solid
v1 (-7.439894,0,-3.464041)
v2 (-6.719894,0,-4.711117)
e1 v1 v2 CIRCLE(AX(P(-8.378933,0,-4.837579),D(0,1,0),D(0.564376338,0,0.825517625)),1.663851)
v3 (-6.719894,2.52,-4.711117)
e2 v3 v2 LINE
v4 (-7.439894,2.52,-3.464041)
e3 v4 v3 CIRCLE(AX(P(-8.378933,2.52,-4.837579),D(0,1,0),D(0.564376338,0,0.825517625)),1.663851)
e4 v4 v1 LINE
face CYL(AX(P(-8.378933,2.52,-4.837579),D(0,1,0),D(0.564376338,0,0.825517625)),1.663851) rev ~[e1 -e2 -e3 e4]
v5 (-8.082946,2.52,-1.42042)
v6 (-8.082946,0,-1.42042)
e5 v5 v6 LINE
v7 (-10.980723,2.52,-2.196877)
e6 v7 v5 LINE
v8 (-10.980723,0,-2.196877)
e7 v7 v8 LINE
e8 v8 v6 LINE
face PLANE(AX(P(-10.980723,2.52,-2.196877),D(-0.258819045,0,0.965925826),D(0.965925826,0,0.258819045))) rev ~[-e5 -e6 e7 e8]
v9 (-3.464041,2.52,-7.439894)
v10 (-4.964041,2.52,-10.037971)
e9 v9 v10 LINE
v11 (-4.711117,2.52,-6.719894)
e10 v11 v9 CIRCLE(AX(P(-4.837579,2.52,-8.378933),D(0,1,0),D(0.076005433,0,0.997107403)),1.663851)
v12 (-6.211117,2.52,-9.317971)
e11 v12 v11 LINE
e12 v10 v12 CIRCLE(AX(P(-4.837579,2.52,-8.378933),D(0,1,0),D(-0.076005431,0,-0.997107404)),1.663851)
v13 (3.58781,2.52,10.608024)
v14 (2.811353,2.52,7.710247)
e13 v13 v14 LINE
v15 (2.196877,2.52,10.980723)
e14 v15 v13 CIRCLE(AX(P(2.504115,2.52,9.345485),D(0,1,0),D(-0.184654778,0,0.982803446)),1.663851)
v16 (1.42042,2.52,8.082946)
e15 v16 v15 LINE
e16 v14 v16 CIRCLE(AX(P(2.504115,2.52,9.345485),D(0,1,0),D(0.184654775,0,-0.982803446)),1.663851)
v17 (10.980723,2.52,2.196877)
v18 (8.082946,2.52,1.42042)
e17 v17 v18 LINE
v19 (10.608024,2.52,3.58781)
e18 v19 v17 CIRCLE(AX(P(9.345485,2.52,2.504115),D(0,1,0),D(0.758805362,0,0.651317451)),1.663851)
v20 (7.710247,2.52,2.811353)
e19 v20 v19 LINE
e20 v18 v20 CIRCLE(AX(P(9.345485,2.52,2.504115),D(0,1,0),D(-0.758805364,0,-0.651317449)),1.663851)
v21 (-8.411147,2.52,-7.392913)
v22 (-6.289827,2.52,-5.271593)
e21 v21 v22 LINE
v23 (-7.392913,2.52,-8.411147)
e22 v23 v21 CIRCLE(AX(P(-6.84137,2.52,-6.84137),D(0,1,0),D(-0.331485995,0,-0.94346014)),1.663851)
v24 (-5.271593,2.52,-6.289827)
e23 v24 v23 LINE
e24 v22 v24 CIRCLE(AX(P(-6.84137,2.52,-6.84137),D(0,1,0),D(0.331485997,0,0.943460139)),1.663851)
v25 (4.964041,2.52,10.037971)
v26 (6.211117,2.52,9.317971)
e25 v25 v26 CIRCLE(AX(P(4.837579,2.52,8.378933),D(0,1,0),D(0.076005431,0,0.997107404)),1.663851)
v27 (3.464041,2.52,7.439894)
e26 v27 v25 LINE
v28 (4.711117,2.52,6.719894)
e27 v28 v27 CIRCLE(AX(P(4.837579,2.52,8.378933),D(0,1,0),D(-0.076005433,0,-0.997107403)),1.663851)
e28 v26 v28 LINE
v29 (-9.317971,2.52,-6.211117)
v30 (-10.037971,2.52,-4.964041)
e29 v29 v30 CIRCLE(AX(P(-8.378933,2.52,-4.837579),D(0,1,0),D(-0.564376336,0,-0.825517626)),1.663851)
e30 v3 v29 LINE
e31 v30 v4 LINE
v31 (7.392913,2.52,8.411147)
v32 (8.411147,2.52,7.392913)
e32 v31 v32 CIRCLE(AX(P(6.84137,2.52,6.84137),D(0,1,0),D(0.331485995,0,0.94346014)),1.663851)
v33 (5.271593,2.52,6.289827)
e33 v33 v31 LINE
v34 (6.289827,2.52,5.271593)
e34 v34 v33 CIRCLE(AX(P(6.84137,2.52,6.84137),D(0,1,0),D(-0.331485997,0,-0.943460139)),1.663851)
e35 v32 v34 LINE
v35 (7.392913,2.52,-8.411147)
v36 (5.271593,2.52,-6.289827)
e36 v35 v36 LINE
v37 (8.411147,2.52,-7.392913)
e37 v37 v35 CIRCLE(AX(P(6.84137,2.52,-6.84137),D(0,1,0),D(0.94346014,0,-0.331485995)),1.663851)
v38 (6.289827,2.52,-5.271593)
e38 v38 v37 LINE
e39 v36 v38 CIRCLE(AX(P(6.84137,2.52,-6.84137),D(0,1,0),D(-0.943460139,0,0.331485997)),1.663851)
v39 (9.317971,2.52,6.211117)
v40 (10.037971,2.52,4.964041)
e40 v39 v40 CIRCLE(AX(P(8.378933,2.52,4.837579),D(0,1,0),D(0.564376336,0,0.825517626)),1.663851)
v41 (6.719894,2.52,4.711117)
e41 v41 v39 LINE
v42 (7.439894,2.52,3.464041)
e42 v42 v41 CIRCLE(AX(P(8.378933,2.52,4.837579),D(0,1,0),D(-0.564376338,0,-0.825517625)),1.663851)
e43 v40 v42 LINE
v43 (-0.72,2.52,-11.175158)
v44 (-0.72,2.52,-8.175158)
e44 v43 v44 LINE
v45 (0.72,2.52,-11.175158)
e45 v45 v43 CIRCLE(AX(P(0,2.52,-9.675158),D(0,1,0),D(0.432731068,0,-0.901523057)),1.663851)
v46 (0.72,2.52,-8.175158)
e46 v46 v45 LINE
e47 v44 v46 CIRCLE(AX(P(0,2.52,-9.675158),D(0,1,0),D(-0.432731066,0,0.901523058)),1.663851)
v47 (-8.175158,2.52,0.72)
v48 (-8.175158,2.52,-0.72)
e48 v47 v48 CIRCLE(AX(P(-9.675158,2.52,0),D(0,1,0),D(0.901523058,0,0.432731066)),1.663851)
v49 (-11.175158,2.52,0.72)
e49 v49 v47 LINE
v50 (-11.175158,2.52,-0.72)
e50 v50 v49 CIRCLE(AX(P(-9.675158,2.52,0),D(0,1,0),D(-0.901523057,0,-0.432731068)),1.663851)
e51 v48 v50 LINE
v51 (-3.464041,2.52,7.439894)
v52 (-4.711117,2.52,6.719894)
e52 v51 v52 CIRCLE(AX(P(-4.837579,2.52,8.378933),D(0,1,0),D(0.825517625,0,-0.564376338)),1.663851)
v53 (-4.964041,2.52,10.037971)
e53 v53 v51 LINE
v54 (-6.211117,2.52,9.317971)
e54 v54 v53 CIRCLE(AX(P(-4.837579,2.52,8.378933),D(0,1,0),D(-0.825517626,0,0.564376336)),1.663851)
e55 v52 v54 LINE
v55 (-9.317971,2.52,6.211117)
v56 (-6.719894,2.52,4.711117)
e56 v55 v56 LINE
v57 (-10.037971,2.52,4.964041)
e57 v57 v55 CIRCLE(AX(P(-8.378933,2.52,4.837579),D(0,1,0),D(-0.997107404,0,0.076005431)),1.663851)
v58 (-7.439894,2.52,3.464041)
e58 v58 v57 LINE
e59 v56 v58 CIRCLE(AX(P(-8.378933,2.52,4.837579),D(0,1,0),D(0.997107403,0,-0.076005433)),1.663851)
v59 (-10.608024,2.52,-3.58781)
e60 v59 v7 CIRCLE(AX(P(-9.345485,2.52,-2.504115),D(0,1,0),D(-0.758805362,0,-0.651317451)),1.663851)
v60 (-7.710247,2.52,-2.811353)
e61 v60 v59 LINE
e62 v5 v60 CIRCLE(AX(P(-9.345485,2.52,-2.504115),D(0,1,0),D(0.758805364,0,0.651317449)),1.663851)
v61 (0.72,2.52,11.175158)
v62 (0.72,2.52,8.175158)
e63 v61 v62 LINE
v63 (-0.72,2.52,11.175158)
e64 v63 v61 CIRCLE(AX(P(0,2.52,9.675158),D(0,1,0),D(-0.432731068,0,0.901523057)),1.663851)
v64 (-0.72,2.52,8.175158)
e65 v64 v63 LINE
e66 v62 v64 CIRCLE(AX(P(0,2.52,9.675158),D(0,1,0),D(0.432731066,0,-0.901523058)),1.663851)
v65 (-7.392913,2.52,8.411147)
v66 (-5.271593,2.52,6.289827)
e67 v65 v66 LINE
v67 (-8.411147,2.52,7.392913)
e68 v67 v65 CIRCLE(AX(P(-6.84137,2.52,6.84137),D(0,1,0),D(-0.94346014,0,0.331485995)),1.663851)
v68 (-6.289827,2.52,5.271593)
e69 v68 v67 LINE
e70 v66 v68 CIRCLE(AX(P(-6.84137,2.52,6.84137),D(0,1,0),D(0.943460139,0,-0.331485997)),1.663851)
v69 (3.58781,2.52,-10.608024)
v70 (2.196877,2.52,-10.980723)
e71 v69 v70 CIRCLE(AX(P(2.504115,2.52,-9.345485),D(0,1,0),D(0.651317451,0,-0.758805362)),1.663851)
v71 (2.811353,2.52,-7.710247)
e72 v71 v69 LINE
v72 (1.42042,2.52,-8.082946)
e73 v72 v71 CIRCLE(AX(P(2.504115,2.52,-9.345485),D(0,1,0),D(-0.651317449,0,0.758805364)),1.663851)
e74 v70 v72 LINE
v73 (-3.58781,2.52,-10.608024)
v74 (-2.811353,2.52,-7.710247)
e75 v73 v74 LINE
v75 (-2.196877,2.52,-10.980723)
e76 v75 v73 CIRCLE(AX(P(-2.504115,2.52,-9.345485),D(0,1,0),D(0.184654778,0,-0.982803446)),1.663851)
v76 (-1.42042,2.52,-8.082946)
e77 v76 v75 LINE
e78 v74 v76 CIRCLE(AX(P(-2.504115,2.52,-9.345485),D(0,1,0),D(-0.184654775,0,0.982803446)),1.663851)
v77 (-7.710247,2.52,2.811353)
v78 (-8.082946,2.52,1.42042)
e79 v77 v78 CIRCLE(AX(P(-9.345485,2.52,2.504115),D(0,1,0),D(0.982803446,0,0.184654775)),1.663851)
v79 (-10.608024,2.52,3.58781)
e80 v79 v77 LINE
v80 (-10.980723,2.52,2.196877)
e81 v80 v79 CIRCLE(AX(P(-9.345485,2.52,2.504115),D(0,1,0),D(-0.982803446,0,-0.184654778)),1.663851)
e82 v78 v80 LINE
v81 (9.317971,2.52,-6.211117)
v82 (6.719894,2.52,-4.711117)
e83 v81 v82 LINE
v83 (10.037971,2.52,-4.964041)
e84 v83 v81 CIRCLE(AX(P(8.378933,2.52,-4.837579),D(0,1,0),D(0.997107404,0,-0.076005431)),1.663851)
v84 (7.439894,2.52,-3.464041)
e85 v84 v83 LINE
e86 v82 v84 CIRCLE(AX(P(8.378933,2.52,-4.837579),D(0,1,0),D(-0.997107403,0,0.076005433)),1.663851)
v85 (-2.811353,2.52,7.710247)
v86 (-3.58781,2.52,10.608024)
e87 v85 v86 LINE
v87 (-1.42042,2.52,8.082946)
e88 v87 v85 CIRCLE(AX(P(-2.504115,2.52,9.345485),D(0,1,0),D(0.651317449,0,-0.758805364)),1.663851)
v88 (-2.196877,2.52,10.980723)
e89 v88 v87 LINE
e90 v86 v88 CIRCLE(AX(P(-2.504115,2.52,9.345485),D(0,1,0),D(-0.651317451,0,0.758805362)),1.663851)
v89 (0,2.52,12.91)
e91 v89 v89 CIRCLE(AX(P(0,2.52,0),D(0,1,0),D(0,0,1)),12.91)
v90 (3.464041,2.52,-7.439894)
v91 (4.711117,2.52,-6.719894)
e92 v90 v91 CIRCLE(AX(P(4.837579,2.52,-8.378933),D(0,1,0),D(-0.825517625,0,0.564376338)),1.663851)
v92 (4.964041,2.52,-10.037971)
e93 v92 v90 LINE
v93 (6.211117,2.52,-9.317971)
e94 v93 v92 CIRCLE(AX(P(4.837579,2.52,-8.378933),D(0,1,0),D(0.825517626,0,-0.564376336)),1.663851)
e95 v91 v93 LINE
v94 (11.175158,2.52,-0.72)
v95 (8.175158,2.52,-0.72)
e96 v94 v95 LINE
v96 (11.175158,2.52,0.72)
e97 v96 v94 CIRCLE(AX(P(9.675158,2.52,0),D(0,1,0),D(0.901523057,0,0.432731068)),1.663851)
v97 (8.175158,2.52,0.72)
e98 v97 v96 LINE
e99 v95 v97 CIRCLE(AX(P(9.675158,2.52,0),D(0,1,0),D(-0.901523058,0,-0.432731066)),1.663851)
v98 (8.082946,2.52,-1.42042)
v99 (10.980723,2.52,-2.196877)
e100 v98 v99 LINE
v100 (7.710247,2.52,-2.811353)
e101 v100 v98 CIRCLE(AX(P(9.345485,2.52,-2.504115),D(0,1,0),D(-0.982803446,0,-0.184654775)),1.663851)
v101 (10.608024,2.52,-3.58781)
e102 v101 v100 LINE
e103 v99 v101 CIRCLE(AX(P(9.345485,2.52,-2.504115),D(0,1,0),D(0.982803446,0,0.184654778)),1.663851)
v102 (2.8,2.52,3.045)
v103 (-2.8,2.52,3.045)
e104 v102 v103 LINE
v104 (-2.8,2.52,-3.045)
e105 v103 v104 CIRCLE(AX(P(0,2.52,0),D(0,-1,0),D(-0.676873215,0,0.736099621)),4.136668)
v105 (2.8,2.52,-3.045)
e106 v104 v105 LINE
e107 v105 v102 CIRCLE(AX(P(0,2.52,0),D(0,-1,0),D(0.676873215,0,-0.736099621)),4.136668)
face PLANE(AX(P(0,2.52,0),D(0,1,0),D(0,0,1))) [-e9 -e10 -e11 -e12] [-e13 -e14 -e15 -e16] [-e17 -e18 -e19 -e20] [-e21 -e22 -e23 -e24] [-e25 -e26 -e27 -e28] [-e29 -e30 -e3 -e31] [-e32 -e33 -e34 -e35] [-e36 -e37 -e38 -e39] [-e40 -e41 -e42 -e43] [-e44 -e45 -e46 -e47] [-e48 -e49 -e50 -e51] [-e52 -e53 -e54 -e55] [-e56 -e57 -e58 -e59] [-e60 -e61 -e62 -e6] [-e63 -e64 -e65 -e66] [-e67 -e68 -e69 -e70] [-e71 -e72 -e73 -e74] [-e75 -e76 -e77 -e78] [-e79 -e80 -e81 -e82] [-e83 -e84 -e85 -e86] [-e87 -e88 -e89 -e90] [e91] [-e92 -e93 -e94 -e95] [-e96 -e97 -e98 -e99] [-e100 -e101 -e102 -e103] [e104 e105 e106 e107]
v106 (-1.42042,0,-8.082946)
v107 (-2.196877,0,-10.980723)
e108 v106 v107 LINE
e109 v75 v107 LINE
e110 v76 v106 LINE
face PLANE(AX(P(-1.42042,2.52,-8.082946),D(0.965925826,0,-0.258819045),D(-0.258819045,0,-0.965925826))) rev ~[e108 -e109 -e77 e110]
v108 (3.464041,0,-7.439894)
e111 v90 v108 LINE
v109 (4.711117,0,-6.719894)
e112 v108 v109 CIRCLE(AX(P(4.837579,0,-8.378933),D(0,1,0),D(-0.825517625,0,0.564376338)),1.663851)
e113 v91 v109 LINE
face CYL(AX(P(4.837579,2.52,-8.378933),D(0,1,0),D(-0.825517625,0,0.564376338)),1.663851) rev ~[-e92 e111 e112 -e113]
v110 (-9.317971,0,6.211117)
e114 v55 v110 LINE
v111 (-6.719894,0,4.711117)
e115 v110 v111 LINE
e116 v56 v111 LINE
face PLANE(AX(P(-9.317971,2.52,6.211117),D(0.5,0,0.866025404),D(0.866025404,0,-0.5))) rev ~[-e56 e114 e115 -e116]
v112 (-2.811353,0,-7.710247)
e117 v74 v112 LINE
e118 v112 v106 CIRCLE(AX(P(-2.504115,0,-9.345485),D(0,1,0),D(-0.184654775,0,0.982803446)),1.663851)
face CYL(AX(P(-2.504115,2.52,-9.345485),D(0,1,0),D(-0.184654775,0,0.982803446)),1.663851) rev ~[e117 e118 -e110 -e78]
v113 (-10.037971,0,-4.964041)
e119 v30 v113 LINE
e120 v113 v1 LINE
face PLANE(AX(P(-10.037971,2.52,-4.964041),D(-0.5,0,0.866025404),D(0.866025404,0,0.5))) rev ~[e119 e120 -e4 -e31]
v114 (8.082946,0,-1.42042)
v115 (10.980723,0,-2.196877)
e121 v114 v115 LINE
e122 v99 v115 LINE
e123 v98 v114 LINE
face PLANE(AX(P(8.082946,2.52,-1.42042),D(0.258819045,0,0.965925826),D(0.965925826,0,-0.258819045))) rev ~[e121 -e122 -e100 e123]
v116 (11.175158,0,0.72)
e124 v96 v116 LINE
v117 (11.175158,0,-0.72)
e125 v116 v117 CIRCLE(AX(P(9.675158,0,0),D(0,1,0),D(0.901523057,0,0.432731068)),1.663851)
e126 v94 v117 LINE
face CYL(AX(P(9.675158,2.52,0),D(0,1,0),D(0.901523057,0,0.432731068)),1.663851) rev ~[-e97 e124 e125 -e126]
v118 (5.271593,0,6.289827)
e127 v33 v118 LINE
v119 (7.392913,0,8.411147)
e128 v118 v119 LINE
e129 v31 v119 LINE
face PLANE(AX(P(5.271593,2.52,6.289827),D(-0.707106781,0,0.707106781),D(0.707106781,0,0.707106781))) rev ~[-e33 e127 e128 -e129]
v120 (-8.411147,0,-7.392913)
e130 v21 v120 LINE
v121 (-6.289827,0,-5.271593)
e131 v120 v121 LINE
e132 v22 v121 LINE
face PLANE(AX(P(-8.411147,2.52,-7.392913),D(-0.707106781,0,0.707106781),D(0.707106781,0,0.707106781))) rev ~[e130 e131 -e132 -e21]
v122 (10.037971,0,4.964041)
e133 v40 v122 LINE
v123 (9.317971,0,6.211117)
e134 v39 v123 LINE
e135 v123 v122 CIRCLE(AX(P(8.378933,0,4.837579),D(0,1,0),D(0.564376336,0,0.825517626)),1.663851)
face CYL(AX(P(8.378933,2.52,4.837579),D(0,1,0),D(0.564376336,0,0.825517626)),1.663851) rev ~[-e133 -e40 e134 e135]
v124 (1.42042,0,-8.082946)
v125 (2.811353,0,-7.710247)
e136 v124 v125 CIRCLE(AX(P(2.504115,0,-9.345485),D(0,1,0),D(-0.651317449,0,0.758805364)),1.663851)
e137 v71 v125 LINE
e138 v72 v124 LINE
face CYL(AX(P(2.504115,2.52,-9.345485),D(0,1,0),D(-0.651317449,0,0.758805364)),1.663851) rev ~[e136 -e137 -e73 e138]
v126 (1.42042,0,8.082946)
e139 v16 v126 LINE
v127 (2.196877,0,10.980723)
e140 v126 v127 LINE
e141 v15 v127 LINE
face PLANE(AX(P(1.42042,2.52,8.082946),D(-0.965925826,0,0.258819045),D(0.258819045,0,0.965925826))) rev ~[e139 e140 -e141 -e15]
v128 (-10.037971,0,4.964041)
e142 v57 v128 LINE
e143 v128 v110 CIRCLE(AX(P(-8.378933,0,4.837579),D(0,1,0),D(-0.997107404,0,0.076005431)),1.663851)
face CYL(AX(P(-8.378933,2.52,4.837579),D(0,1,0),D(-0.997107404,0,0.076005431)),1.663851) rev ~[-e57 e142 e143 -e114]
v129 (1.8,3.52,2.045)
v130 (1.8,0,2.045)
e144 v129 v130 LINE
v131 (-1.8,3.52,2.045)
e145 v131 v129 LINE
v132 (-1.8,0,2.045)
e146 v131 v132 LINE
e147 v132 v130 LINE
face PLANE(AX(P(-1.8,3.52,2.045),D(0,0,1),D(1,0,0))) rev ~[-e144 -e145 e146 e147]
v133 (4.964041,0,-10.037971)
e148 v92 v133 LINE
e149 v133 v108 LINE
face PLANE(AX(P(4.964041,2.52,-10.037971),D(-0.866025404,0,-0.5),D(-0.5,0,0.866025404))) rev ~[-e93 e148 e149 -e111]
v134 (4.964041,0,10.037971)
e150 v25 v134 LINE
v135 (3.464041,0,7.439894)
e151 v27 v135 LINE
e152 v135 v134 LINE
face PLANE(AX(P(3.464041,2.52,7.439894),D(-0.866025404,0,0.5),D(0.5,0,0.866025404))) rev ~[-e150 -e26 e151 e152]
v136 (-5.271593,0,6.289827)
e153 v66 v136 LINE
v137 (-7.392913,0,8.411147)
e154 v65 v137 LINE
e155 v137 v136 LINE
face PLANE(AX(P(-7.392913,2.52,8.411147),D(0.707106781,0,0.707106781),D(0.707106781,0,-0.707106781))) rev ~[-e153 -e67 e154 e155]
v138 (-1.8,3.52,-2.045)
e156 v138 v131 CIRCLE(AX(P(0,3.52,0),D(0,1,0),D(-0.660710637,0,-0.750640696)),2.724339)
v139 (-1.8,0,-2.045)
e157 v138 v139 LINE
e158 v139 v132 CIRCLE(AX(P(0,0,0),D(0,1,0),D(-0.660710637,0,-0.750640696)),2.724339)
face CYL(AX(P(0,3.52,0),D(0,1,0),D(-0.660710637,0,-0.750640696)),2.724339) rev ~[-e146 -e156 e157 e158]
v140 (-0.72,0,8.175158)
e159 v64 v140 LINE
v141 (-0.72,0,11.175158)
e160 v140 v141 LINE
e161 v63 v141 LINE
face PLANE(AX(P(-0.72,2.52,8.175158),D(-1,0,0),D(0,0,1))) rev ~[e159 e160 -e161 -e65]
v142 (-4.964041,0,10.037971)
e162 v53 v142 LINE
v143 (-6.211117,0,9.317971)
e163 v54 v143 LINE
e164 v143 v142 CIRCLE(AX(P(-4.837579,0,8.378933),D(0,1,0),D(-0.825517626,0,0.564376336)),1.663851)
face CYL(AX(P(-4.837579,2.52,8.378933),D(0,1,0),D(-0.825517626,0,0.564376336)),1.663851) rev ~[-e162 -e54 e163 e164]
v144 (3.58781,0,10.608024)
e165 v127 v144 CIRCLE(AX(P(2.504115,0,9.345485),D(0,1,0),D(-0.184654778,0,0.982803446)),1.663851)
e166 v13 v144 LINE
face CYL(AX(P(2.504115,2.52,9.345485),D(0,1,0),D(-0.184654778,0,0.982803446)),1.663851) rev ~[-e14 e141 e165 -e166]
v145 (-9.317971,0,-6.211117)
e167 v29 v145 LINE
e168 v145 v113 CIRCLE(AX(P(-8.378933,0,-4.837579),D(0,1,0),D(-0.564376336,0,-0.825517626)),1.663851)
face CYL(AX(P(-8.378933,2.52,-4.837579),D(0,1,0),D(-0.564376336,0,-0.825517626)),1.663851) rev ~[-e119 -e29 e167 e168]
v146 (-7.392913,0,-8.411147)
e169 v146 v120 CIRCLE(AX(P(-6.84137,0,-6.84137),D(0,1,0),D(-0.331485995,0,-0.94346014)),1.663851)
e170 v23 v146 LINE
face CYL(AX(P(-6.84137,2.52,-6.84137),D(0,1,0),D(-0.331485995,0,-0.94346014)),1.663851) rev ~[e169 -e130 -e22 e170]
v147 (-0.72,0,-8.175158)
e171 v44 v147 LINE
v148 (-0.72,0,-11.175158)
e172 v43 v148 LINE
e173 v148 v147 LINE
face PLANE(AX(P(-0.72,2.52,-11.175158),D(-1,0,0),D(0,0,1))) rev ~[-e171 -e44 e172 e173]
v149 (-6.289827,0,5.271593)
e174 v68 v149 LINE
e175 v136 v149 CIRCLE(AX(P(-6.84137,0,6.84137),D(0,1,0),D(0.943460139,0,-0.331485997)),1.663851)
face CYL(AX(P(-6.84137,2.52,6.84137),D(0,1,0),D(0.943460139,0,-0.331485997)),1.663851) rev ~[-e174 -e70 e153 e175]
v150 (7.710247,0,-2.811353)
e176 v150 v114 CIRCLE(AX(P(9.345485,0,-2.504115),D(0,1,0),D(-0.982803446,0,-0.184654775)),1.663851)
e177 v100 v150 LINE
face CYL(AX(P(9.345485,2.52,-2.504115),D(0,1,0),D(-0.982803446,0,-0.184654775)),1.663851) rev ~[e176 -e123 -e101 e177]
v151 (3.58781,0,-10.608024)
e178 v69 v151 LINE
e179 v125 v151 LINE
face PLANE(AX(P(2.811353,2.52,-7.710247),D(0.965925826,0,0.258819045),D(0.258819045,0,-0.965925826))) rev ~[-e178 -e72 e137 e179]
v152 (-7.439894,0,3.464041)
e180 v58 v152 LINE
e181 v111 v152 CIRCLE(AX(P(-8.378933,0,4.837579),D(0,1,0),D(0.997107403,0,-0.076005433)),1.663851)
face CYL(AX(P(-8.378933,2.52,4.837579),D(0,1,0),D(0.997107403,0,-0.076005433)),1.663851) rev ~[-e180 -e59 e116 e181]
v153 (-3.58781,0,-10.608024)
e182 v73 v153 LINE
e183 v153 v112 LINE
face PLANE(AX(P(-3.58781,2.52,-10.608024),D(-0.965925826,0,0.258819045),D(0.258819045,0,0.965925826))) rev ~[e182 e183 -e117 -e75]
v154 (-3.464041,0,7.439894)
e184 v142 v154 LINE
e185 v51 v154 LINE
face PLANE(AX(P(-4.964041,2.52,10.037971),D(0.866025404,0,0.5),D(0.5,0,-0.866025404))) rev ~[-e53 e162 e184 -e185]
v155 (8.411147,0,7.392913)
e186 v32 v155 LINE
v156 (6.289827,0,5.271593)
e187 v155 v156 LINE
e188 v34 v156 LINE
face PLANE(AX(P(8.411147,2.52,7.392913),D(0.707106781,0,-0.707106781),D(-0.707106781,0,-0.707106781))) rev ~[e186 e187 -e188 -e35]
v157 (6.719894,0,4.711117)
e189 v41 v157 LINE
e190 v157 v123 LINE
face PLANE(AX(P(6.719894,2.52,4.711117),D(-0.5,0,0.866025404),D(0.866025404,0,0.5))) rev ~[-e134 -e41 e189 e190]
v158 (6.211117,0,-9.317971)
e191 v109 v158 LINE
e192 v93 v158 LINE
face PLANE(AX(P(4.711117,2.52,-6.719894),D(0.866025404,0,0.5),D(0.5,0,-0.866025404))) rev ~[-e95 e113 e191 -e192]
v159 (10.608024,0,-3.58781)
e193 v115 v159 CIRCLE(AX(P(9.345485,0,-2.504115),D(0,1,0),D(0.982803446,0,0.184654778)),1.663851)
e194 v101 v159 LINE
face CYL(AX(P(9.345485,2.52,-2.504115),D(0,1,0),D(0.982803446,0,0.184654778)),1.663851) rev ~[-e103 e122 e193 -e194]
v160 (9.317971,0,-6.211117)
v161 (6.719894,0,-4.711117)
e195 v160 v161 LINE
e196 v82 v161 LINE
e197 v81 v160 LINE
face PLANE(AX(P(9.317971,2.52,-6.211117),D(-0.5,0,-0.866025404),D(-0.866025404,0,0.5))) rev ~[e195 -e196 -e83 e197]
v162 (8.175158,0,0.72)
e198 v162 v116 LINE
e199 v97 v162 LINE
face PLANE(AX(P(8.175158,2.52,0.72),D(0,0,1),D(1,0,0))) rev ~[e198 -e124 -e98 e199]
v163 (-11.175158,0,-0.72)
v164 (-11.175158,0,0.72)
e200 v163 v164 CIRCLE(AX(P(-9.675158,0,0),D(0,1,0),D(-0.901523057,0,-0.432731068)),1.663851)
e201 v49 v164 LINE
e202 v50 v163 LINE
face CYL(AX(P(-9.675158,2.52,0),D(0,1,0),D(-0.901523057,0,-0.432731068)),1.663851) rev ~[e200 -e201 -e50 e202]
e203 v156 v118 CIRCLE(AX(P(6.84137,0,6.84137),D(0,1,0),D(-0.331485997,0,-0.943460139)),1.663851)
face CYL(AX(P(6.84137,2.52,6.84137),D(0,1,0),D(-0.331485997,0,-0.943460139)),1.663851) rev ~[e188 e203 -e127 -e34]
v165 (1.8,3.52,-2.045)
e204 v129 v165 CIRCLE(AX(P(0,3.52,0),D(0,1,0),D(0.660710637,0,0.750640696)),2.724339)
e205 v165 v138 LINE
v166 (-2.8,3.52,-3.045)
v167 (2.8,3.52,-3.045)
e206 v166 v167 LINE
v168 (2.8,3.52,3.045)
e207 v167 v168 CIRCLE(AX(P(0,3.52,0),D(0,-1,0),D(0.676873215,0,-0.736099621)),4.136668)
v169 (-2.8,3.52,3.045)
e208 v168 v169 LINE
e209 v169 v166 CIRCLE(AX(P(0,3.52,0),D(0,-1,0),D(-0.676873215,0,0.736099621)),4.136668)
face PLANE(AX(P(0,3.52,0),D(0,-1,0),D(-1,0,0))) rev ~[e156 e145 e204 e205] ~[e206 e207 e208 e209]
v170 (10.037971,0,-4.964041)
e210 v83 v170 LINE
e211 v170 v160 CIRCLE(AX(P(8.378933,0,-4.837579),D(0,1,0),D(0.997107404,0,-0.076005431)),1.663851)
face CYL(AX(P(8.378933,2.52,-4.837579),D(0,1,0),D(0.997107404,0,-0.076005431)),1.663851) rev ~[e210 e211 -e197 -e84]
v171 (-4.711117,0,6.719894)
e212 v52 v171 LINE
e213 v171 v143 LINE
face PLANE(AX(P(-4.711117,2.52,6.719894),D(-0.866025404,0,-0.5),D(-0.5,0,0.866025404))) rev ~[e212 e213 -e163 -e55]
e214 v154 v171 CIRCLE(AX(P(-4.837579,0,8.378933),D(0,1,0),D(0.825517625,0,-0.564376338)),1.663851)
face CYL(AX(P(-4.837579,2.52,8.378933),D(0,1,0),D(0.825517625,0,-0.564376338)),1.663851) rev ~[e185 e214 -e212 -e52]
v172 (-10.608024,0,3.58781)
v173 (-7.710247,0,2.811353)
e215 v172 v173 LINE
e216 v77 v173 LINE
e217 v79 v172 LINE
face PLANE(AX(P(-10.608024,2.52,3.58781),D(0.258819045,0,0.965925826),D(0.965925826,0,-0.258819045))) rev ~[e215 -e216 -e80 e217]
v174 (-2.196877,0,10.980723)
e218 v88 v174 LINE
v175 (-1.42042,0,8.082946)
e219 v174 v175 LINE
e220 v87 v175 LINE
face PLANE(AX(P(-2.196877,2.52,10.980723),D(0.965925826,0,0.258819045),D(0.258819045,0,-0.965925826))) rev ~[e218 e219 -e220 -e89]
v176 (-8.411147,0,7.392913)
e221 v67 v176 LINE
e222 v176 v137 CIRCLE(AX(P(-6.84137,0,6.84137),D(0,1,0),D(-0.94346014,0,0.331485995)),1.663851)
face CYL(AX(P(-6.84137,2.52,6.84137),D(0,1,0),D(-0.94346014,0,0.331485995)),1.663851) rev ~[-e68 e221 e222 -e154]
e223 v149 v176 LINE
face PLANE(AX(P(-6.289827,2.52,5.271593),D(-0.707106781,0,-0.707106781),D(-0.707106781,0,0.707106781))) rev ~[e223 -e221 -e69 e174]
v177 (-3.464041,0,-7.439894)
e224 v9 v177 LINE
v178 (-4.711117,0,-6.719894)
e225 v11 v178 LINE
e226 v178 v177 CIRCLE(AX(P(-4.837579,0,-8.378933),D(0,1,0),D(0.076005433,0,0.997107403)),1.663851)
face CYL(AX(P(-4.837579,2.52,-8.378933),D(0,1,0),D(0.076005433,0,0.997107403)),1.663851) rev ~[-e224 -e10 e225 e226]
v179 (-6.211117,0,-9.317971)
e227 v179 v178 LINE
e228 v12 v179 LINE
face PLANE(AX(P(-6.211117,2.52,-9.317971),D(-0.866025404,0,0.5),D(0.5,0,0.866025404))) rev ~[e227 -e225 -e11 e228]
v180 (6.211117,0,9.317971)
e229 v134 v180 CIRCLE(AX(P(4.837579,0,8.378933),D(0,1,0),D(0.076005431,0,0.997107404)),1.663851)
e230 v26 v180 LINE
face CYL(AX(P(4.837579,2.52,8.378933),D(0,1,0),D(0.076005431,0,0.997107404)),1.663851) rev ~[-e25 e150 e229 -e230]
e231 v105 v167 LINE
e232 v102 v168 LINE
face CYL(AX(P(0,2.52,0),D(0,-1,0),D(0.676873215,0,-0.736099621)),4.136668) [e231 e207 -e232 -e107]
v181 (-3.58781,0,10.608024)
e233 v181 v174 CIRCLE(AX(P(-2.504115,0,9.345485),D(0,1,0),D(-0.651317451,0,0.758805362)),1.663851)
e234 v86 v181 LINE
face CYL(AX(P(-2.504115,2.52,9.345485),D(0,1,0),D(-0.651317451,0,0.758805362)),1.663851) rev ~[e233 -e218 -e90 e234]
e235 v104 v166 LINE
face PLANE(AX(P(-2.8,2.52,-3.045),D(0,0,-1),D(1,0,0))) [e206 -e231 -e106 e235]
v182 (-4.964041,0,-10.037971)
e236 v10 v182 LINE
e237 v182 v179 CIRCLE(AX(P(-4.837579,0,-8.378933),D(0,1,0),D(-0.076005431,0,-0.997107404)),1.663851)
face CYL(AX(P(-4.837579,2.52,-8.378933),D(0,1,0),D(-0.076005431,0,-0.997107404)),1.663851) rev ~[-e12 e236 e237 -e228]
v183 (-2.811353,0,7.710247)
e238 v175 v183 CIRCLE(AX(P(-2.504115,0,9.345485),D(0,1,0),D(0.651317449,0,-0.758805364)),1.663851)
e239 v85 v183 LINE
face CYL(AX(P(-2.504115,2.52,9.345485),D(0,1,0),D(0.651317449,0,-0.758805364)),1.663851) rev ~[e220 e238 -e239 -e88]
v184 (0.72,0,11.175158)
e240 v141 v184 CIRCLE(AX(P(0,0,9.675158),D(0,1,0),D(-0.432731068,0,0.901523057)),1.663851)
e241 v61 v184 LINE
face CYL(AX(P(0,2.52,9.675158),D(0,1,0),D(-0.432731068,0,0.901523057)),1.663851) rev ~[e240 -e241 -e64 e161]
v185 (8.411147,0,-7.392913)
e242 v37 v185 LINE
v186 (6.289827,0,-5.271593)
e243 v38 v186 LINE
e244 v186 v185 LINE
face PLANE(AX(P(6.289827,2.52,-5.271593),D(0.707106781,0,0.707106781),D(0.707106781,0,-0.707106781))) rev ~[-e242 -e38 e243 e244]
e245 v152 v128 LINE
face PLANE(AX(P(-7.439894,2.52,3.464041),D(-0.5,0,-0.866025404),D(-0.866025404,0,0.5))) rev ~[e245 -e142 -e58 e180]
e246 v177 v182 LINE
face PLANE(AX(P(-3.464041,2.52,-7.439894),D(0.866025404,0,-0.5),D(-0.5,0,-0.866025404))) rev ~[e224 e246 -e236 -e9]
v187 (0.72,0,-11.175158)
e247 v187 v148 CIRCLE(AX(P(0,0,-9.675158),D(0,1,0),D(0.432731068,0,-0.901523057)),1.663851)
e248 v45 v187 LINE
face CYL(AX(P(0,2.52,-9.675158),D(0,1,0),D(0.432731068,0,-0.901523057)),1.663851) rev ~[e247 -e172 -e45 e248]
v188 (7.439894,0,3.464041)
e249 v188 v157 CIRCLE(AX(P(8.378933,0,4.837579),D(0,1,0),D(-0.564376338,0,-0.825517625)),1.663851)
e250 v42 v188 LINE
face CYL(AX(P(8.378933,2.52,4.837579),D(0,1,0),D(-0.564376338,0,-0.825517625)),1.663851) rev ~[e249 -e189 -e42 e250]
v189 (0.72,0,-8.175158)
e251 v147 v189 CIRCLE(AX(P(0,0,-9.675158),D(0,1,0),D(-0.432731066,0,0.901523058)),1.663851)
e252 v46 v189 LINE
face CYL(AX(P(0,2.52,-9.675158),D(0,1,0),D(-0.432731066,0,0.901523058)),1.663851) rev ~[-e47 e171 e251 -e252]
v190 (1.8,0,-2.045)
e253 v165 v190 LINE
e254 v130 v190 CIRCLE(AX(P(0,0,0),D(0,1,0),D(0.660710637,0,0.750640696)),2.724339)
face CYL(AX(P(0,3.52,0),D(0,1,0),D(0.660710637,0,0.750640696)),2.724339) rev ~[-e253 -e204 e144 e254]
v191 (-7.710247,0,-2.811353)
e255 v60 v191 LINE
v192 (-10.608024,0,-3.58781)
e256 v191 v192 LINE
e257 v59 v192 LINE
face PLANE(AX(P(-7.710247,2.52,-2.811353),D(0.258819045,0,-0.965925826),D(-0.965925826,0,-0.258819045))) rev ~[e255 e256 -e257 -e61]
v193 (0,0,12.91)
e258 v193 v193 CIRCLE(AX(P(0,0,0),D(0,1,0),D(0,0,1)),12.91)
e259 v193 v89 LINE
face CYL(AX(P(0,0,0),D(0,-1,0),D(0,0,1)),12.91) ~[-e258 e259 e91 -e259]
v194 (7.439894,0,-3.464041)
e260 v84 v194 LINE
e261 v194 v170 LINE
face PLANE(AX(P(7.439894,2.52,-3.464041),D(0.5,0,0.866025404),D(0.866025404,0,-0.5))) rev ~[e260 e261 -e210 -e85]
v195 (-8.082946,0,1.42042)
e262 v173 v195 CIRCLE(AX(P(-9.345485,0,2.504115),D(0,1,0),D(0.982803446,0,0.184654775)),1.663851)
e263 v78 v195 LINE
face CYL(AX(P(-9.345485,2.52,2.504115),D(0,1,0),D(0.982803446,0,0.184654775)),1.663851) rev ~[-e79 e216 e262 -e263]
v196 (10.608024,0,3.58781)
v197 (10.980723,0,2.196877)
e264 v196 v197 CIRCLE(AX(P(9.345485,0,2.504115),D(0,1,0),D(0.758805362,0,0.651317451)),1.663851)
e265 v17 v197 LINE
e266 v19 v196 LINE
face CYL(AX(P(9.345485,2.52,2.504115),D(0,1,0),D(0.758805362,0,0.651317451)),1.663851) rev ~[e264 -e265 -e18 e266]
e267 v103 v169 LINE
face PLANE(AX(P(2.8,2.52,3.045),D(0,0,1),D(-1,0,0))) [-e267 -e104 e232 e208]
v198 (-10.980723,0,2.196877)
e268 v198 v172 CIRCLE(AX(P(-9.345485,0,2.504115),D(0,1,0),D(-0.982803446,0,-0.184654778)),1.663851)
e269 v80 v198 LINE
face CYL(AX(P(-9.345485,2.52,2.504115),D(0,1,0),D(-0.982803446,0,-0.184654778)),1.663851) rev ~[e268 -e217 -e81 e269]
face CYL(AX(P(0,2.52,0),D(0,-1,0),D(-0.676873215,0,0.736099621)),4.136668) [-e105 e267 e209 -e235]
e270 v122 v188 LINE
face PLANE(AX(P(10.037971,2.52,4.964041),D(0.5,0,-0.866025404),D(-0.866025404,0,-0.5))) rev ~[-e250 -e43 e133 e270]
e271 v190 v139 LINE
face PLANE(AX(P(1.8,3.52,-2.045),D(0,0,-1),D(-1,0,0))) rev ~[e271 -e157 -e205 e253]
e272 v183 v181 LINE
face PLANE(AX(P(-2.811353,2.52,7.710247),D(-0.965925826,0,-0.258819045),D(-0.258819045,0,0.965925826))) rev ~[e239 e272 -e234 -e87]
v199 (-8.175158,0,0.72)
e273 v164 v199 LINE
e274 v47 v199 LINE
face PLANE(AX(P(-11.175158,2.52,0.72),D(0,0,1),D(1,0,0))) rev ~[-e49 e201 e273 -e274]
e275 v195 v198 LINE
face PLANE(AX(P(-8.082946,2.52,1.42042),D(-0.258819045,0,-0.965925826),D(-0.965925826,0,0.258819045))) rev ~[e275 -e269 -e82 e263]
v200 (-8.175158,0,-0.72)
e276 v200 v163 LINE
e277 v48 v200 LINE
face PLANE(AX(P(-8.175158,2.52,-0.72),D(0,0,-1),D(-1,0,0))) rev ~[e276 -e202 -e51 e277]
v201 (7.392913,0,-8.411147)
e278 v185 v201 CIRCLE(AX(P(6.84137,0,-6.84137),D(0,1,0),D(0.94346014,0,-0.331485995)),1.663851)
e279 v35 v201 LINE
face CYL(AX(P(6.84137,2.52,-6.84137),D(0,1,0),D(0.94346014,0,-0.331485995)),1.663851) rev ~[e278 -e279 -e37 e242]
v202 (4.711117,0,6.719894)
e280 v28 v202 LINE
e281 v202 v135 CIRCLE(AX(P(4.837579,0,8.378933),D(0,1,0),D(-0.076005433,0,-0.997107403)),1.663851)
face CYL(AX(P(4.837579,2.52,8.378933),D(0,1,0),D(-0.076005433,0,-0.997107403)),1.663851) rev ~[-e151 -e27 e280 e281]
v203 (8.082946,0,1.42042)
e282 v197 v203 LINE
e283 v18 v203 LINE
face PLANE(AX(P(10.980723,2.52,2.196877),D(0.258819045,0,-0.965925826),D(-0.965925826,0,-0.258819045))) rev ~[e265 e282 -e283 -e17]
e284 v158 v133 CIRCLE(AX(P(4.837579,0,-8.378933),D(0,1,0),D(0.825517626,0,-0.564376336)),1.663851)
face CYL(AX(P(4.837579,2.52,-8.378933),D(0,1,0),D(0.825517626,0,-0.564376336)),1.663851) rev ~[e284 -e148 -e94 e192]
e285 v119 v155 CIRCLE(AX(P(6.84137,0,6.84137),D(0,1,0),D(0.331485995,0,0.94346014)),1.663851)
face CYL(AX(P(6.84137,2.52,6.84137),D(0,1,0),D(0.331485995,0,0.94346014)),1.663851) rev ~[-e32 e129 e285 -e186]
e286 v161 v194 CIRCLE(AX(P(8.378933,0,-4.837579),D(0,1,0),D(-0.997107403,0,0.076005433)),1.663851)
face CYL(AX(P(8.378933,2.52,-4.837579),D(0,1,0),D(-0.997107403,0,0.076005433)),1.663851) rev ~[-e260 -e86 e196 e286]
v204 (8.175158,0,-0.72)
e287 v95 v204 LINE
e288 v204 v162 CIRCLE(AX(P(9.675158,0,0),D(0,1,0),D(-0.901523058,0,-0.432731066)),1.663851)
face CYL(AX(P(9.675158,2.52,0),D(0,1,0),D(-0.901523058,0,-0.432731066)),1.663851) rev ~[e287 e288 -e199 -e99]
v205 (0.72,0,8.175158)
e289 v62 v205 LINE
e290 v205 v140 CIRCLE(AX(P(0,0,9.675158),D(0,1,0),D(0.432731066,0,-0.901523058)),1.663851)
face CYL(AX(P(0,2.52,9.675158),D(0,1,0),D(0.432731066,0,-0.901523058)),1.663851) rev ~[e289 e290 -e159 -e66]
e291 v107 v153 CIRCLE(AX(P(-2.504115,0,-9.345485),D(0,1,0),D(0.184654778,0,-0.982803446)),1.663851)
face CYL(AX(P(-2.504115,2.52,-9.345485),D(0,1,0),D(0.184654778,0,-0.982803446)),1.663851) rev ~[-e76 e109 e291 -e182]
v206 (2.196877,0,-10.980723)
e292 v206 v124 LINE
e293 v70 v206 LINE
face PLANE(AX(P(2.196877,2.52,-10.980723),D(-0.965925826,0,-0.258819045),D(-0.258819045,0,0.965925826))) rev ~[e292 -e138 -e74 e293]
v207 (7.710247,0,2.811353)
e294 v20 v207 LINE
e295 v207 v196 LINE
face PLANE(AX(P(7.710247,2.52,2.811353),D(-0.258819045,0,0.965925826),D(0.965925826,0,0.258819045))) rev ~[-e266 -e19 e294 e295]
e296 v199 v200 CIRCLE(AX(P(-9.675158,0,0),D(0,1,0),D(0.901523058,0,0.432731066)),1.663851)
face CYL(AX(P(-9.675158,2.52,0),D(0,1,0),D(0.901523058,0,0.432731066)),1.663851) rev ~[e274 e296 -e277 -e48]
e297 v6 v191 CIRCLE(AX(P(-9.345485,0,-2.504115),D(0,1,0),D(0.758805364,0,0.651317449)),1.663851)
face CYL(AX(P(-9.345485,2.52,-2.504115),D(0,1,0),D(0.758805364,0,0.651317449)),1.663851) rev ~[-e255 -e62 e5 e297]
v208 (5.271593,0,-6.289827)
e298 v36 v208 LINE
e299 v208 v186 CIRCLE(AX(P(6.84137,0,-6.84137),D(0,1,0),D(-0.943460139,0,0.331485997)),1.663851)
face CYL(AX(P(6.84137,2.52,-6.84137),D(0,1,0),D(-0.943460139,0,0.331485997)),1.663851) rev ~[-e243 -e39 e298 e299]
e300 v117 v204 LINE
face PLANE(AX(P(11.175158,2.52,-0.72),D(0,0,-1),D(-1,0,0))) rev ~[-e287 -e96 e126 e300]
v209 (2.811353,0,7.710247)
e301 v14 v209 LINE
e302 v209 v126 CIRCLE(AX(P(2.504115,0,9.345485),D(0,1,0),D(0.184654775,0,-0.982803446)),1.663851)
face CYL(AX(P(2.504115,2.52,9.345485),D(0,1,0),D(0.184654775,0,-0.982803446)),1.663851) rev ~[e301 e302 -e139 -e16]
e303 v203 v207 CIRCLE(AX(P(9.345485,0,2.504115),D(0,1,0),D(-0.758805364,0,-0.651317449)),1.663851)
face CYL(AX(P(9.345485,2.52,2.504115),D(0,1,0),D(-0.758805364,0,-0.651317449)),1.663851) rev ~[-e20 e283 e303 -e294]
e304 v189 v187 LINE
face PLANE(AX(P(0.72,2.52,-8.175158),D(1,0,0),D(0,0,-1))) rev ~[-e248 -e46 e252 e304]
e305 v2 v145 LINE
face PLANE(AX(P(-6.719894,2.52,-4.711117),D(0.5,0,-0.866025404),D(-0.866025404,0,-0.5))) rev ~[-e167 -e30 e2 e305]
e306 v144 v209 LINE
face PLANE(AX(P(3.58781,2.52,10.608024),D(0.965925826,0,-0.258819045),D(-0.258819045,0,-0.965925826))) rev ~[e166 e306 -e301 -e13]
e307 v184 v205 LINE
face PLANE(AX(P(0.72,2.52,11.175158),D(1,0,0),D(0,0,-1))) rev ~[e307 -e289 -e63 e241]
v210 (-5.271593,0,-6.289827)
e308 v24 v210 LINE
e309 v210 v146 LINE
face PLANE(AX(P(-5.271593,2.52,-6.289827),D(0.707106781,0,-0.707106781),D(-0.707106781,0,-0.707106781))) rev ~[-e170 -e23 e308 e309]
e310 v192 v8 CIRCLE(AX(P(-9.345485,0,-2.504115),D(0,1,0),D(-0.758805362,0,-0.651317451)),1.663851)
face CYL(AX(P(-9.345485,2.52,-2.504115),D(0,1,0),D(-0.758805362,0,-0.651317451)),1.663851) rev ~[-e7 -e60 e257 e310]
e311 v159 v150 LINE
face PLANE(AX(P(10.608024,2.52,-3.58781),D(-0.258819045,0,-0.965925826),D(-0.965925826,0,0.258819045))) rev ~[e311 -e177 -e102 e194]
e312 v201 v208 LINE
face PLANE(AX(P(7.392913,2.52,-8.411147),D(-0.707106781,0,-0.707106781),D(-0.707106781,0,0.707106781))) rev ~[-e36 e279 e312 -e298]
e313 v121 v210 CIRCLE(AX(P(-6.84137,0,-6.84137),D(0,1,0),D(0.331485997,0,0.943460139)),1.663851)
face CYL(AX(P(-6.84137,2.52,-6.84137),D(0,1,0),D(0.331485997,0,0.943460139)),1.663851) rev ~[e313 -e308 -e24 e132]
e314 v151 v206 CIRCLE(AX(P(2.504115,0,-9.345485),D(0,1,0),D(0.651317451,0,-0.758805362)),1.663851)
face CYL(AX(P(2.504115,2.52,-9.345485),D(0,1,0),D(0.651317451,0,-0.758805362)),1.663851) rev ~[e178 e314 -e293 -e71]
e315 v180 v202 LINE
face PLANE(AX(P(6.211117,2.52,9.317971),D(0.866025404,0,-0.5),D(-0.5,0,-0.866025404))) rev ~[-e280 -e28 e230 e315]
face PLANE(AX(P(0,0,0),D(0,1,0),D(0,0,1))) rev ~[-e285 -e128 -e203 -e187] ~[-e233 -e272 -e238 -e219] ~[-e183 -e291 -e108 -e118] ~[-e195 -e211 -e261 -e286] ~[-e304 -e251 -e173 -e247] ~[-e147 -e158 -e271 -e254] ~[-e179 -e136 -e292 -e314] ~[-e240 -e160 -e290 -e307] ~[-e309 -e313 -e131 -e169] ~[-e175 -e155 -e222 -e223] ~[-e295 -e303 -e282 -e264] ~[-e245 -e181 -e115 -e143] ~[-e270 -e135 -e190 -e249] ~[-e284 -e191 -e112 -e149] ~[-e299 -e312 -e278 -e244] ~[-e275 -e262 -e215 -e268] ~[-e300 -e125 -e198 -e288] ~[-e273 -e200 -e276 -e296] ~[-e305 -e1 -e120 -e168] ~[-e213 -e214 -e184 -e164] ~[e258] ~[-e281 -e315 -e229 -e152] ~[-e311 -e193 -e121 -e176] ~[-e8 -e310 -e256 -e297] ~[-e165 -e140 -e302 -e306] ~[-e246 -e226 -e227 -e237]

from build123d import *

# Parameters (mm, degrees)
SKETCH_1_R               = 12.91
EXTRUDE_1_DEPTH          = 2.52
EXTRUDE_2_DEPTH          = 1
CUT_EXTRUDE_1_DEPTH      = 4
CUT_EXTRUDE_2_DEPTH      = 4
PATTERN_CIRCULAR_1_COUNT = 24


with BuildPart() as part:
    # 草图1 → 凸台-拉伸1 (new body)
    with BuildSketch(Plane(origin=(0, 0, 0), x_dir=(1, 0, 0), z_dir=(0, 1, 0))):
        with Locations(Location((0, 0, 0), (0, 0, 270))):
            Circle(SKETCH_1_R)
    extrude(amount=EXTRUDE_1_DEPTH)

    # 草图2 → 凸台-拉伸2 (add)
    with BuildSketch(Plane(origin=(0, 2.52, 0), x_dir=(1, 0, 0), z_dir=(0, 1, 0))):
        with BuildLine():
            Line((-2.8, 3.045), (2.8, 3.045))
            ThreePointArc((2.8, 3.045), (4.136668345, 0), (2.8, -3.045))
            Line((2.8, -3.045), (-2.8, -3.045))
            ThreePointArc((-2.8, -3.045), (-4.136668345, 0), (-2.8, 3.045))
        make_face()
    extrude(amount=EXTRUDE_2_DEPTH)

    # 草图3 → 切除-拉伸1 (cut)
    with BuildSketch(Plane(origin=(0, 3.52, 0), x_dir=(1, 0, 0), z_dir=(0, 1, 0))):
        with BuildLine():
            Line((-1.8, -2.045), (1.8, -2.045))
            ThreePointArc((1.8, -2.045), (2.724339369, 0), (1.8, 2.045))
            Line((1.8, 2.045), (-1.8, 2.045))
            ThreePointArc((-1.8, 2.045), (-2.724339369, 0), (-1.8, -2.045))
        make_face()
    extrude(amount=-CUT_EXTRUDE_1_DEPTH, mode=Mode.SUBTRACT)

    # 草图4 → 切除-拉伸2 (cut)
    with BuildSketch(Plane(origin=(0, 2.52, 0), x_dir=(1, 0, 0), z_dir=(0, 1, 0))):
        with BuildLine():
            Line((-11.175157972, -0.72), (-8.175157972, -0.72))
            ThreePointArc((-8.175157972, -0.72), (-8.011307018, 0), (-8.175157972, 0.72))
            Line((-8.175157972, 0.72), (-11.175157972, 0.72))
            ThreePointArc((-11.175157972, 0.72), (-11.339008927, 0), (-11.175157972, -0.72))
        make_face()
    cut_extrude_2 = extrude(amount=-CUT_EXTRUDE_2_DEPTH, mode=Mode.SUBTRACT)

    # 阵列(圆周)1: 切除-拉伸2 ×24 about axis
    pattern_circular_1_axis = Axis((0, 0, 0), (0, 1, 0))
    for i in range(1, PATTERN_CIRCULAR_1_COUNT):
        add(cut_extrude_2.rotate(pattern_circular_1_axis, i * 360 / PATTERN_CIRCULAR_1_COUNT), mode=Mode.SUBTRACT)


solid = part.part
